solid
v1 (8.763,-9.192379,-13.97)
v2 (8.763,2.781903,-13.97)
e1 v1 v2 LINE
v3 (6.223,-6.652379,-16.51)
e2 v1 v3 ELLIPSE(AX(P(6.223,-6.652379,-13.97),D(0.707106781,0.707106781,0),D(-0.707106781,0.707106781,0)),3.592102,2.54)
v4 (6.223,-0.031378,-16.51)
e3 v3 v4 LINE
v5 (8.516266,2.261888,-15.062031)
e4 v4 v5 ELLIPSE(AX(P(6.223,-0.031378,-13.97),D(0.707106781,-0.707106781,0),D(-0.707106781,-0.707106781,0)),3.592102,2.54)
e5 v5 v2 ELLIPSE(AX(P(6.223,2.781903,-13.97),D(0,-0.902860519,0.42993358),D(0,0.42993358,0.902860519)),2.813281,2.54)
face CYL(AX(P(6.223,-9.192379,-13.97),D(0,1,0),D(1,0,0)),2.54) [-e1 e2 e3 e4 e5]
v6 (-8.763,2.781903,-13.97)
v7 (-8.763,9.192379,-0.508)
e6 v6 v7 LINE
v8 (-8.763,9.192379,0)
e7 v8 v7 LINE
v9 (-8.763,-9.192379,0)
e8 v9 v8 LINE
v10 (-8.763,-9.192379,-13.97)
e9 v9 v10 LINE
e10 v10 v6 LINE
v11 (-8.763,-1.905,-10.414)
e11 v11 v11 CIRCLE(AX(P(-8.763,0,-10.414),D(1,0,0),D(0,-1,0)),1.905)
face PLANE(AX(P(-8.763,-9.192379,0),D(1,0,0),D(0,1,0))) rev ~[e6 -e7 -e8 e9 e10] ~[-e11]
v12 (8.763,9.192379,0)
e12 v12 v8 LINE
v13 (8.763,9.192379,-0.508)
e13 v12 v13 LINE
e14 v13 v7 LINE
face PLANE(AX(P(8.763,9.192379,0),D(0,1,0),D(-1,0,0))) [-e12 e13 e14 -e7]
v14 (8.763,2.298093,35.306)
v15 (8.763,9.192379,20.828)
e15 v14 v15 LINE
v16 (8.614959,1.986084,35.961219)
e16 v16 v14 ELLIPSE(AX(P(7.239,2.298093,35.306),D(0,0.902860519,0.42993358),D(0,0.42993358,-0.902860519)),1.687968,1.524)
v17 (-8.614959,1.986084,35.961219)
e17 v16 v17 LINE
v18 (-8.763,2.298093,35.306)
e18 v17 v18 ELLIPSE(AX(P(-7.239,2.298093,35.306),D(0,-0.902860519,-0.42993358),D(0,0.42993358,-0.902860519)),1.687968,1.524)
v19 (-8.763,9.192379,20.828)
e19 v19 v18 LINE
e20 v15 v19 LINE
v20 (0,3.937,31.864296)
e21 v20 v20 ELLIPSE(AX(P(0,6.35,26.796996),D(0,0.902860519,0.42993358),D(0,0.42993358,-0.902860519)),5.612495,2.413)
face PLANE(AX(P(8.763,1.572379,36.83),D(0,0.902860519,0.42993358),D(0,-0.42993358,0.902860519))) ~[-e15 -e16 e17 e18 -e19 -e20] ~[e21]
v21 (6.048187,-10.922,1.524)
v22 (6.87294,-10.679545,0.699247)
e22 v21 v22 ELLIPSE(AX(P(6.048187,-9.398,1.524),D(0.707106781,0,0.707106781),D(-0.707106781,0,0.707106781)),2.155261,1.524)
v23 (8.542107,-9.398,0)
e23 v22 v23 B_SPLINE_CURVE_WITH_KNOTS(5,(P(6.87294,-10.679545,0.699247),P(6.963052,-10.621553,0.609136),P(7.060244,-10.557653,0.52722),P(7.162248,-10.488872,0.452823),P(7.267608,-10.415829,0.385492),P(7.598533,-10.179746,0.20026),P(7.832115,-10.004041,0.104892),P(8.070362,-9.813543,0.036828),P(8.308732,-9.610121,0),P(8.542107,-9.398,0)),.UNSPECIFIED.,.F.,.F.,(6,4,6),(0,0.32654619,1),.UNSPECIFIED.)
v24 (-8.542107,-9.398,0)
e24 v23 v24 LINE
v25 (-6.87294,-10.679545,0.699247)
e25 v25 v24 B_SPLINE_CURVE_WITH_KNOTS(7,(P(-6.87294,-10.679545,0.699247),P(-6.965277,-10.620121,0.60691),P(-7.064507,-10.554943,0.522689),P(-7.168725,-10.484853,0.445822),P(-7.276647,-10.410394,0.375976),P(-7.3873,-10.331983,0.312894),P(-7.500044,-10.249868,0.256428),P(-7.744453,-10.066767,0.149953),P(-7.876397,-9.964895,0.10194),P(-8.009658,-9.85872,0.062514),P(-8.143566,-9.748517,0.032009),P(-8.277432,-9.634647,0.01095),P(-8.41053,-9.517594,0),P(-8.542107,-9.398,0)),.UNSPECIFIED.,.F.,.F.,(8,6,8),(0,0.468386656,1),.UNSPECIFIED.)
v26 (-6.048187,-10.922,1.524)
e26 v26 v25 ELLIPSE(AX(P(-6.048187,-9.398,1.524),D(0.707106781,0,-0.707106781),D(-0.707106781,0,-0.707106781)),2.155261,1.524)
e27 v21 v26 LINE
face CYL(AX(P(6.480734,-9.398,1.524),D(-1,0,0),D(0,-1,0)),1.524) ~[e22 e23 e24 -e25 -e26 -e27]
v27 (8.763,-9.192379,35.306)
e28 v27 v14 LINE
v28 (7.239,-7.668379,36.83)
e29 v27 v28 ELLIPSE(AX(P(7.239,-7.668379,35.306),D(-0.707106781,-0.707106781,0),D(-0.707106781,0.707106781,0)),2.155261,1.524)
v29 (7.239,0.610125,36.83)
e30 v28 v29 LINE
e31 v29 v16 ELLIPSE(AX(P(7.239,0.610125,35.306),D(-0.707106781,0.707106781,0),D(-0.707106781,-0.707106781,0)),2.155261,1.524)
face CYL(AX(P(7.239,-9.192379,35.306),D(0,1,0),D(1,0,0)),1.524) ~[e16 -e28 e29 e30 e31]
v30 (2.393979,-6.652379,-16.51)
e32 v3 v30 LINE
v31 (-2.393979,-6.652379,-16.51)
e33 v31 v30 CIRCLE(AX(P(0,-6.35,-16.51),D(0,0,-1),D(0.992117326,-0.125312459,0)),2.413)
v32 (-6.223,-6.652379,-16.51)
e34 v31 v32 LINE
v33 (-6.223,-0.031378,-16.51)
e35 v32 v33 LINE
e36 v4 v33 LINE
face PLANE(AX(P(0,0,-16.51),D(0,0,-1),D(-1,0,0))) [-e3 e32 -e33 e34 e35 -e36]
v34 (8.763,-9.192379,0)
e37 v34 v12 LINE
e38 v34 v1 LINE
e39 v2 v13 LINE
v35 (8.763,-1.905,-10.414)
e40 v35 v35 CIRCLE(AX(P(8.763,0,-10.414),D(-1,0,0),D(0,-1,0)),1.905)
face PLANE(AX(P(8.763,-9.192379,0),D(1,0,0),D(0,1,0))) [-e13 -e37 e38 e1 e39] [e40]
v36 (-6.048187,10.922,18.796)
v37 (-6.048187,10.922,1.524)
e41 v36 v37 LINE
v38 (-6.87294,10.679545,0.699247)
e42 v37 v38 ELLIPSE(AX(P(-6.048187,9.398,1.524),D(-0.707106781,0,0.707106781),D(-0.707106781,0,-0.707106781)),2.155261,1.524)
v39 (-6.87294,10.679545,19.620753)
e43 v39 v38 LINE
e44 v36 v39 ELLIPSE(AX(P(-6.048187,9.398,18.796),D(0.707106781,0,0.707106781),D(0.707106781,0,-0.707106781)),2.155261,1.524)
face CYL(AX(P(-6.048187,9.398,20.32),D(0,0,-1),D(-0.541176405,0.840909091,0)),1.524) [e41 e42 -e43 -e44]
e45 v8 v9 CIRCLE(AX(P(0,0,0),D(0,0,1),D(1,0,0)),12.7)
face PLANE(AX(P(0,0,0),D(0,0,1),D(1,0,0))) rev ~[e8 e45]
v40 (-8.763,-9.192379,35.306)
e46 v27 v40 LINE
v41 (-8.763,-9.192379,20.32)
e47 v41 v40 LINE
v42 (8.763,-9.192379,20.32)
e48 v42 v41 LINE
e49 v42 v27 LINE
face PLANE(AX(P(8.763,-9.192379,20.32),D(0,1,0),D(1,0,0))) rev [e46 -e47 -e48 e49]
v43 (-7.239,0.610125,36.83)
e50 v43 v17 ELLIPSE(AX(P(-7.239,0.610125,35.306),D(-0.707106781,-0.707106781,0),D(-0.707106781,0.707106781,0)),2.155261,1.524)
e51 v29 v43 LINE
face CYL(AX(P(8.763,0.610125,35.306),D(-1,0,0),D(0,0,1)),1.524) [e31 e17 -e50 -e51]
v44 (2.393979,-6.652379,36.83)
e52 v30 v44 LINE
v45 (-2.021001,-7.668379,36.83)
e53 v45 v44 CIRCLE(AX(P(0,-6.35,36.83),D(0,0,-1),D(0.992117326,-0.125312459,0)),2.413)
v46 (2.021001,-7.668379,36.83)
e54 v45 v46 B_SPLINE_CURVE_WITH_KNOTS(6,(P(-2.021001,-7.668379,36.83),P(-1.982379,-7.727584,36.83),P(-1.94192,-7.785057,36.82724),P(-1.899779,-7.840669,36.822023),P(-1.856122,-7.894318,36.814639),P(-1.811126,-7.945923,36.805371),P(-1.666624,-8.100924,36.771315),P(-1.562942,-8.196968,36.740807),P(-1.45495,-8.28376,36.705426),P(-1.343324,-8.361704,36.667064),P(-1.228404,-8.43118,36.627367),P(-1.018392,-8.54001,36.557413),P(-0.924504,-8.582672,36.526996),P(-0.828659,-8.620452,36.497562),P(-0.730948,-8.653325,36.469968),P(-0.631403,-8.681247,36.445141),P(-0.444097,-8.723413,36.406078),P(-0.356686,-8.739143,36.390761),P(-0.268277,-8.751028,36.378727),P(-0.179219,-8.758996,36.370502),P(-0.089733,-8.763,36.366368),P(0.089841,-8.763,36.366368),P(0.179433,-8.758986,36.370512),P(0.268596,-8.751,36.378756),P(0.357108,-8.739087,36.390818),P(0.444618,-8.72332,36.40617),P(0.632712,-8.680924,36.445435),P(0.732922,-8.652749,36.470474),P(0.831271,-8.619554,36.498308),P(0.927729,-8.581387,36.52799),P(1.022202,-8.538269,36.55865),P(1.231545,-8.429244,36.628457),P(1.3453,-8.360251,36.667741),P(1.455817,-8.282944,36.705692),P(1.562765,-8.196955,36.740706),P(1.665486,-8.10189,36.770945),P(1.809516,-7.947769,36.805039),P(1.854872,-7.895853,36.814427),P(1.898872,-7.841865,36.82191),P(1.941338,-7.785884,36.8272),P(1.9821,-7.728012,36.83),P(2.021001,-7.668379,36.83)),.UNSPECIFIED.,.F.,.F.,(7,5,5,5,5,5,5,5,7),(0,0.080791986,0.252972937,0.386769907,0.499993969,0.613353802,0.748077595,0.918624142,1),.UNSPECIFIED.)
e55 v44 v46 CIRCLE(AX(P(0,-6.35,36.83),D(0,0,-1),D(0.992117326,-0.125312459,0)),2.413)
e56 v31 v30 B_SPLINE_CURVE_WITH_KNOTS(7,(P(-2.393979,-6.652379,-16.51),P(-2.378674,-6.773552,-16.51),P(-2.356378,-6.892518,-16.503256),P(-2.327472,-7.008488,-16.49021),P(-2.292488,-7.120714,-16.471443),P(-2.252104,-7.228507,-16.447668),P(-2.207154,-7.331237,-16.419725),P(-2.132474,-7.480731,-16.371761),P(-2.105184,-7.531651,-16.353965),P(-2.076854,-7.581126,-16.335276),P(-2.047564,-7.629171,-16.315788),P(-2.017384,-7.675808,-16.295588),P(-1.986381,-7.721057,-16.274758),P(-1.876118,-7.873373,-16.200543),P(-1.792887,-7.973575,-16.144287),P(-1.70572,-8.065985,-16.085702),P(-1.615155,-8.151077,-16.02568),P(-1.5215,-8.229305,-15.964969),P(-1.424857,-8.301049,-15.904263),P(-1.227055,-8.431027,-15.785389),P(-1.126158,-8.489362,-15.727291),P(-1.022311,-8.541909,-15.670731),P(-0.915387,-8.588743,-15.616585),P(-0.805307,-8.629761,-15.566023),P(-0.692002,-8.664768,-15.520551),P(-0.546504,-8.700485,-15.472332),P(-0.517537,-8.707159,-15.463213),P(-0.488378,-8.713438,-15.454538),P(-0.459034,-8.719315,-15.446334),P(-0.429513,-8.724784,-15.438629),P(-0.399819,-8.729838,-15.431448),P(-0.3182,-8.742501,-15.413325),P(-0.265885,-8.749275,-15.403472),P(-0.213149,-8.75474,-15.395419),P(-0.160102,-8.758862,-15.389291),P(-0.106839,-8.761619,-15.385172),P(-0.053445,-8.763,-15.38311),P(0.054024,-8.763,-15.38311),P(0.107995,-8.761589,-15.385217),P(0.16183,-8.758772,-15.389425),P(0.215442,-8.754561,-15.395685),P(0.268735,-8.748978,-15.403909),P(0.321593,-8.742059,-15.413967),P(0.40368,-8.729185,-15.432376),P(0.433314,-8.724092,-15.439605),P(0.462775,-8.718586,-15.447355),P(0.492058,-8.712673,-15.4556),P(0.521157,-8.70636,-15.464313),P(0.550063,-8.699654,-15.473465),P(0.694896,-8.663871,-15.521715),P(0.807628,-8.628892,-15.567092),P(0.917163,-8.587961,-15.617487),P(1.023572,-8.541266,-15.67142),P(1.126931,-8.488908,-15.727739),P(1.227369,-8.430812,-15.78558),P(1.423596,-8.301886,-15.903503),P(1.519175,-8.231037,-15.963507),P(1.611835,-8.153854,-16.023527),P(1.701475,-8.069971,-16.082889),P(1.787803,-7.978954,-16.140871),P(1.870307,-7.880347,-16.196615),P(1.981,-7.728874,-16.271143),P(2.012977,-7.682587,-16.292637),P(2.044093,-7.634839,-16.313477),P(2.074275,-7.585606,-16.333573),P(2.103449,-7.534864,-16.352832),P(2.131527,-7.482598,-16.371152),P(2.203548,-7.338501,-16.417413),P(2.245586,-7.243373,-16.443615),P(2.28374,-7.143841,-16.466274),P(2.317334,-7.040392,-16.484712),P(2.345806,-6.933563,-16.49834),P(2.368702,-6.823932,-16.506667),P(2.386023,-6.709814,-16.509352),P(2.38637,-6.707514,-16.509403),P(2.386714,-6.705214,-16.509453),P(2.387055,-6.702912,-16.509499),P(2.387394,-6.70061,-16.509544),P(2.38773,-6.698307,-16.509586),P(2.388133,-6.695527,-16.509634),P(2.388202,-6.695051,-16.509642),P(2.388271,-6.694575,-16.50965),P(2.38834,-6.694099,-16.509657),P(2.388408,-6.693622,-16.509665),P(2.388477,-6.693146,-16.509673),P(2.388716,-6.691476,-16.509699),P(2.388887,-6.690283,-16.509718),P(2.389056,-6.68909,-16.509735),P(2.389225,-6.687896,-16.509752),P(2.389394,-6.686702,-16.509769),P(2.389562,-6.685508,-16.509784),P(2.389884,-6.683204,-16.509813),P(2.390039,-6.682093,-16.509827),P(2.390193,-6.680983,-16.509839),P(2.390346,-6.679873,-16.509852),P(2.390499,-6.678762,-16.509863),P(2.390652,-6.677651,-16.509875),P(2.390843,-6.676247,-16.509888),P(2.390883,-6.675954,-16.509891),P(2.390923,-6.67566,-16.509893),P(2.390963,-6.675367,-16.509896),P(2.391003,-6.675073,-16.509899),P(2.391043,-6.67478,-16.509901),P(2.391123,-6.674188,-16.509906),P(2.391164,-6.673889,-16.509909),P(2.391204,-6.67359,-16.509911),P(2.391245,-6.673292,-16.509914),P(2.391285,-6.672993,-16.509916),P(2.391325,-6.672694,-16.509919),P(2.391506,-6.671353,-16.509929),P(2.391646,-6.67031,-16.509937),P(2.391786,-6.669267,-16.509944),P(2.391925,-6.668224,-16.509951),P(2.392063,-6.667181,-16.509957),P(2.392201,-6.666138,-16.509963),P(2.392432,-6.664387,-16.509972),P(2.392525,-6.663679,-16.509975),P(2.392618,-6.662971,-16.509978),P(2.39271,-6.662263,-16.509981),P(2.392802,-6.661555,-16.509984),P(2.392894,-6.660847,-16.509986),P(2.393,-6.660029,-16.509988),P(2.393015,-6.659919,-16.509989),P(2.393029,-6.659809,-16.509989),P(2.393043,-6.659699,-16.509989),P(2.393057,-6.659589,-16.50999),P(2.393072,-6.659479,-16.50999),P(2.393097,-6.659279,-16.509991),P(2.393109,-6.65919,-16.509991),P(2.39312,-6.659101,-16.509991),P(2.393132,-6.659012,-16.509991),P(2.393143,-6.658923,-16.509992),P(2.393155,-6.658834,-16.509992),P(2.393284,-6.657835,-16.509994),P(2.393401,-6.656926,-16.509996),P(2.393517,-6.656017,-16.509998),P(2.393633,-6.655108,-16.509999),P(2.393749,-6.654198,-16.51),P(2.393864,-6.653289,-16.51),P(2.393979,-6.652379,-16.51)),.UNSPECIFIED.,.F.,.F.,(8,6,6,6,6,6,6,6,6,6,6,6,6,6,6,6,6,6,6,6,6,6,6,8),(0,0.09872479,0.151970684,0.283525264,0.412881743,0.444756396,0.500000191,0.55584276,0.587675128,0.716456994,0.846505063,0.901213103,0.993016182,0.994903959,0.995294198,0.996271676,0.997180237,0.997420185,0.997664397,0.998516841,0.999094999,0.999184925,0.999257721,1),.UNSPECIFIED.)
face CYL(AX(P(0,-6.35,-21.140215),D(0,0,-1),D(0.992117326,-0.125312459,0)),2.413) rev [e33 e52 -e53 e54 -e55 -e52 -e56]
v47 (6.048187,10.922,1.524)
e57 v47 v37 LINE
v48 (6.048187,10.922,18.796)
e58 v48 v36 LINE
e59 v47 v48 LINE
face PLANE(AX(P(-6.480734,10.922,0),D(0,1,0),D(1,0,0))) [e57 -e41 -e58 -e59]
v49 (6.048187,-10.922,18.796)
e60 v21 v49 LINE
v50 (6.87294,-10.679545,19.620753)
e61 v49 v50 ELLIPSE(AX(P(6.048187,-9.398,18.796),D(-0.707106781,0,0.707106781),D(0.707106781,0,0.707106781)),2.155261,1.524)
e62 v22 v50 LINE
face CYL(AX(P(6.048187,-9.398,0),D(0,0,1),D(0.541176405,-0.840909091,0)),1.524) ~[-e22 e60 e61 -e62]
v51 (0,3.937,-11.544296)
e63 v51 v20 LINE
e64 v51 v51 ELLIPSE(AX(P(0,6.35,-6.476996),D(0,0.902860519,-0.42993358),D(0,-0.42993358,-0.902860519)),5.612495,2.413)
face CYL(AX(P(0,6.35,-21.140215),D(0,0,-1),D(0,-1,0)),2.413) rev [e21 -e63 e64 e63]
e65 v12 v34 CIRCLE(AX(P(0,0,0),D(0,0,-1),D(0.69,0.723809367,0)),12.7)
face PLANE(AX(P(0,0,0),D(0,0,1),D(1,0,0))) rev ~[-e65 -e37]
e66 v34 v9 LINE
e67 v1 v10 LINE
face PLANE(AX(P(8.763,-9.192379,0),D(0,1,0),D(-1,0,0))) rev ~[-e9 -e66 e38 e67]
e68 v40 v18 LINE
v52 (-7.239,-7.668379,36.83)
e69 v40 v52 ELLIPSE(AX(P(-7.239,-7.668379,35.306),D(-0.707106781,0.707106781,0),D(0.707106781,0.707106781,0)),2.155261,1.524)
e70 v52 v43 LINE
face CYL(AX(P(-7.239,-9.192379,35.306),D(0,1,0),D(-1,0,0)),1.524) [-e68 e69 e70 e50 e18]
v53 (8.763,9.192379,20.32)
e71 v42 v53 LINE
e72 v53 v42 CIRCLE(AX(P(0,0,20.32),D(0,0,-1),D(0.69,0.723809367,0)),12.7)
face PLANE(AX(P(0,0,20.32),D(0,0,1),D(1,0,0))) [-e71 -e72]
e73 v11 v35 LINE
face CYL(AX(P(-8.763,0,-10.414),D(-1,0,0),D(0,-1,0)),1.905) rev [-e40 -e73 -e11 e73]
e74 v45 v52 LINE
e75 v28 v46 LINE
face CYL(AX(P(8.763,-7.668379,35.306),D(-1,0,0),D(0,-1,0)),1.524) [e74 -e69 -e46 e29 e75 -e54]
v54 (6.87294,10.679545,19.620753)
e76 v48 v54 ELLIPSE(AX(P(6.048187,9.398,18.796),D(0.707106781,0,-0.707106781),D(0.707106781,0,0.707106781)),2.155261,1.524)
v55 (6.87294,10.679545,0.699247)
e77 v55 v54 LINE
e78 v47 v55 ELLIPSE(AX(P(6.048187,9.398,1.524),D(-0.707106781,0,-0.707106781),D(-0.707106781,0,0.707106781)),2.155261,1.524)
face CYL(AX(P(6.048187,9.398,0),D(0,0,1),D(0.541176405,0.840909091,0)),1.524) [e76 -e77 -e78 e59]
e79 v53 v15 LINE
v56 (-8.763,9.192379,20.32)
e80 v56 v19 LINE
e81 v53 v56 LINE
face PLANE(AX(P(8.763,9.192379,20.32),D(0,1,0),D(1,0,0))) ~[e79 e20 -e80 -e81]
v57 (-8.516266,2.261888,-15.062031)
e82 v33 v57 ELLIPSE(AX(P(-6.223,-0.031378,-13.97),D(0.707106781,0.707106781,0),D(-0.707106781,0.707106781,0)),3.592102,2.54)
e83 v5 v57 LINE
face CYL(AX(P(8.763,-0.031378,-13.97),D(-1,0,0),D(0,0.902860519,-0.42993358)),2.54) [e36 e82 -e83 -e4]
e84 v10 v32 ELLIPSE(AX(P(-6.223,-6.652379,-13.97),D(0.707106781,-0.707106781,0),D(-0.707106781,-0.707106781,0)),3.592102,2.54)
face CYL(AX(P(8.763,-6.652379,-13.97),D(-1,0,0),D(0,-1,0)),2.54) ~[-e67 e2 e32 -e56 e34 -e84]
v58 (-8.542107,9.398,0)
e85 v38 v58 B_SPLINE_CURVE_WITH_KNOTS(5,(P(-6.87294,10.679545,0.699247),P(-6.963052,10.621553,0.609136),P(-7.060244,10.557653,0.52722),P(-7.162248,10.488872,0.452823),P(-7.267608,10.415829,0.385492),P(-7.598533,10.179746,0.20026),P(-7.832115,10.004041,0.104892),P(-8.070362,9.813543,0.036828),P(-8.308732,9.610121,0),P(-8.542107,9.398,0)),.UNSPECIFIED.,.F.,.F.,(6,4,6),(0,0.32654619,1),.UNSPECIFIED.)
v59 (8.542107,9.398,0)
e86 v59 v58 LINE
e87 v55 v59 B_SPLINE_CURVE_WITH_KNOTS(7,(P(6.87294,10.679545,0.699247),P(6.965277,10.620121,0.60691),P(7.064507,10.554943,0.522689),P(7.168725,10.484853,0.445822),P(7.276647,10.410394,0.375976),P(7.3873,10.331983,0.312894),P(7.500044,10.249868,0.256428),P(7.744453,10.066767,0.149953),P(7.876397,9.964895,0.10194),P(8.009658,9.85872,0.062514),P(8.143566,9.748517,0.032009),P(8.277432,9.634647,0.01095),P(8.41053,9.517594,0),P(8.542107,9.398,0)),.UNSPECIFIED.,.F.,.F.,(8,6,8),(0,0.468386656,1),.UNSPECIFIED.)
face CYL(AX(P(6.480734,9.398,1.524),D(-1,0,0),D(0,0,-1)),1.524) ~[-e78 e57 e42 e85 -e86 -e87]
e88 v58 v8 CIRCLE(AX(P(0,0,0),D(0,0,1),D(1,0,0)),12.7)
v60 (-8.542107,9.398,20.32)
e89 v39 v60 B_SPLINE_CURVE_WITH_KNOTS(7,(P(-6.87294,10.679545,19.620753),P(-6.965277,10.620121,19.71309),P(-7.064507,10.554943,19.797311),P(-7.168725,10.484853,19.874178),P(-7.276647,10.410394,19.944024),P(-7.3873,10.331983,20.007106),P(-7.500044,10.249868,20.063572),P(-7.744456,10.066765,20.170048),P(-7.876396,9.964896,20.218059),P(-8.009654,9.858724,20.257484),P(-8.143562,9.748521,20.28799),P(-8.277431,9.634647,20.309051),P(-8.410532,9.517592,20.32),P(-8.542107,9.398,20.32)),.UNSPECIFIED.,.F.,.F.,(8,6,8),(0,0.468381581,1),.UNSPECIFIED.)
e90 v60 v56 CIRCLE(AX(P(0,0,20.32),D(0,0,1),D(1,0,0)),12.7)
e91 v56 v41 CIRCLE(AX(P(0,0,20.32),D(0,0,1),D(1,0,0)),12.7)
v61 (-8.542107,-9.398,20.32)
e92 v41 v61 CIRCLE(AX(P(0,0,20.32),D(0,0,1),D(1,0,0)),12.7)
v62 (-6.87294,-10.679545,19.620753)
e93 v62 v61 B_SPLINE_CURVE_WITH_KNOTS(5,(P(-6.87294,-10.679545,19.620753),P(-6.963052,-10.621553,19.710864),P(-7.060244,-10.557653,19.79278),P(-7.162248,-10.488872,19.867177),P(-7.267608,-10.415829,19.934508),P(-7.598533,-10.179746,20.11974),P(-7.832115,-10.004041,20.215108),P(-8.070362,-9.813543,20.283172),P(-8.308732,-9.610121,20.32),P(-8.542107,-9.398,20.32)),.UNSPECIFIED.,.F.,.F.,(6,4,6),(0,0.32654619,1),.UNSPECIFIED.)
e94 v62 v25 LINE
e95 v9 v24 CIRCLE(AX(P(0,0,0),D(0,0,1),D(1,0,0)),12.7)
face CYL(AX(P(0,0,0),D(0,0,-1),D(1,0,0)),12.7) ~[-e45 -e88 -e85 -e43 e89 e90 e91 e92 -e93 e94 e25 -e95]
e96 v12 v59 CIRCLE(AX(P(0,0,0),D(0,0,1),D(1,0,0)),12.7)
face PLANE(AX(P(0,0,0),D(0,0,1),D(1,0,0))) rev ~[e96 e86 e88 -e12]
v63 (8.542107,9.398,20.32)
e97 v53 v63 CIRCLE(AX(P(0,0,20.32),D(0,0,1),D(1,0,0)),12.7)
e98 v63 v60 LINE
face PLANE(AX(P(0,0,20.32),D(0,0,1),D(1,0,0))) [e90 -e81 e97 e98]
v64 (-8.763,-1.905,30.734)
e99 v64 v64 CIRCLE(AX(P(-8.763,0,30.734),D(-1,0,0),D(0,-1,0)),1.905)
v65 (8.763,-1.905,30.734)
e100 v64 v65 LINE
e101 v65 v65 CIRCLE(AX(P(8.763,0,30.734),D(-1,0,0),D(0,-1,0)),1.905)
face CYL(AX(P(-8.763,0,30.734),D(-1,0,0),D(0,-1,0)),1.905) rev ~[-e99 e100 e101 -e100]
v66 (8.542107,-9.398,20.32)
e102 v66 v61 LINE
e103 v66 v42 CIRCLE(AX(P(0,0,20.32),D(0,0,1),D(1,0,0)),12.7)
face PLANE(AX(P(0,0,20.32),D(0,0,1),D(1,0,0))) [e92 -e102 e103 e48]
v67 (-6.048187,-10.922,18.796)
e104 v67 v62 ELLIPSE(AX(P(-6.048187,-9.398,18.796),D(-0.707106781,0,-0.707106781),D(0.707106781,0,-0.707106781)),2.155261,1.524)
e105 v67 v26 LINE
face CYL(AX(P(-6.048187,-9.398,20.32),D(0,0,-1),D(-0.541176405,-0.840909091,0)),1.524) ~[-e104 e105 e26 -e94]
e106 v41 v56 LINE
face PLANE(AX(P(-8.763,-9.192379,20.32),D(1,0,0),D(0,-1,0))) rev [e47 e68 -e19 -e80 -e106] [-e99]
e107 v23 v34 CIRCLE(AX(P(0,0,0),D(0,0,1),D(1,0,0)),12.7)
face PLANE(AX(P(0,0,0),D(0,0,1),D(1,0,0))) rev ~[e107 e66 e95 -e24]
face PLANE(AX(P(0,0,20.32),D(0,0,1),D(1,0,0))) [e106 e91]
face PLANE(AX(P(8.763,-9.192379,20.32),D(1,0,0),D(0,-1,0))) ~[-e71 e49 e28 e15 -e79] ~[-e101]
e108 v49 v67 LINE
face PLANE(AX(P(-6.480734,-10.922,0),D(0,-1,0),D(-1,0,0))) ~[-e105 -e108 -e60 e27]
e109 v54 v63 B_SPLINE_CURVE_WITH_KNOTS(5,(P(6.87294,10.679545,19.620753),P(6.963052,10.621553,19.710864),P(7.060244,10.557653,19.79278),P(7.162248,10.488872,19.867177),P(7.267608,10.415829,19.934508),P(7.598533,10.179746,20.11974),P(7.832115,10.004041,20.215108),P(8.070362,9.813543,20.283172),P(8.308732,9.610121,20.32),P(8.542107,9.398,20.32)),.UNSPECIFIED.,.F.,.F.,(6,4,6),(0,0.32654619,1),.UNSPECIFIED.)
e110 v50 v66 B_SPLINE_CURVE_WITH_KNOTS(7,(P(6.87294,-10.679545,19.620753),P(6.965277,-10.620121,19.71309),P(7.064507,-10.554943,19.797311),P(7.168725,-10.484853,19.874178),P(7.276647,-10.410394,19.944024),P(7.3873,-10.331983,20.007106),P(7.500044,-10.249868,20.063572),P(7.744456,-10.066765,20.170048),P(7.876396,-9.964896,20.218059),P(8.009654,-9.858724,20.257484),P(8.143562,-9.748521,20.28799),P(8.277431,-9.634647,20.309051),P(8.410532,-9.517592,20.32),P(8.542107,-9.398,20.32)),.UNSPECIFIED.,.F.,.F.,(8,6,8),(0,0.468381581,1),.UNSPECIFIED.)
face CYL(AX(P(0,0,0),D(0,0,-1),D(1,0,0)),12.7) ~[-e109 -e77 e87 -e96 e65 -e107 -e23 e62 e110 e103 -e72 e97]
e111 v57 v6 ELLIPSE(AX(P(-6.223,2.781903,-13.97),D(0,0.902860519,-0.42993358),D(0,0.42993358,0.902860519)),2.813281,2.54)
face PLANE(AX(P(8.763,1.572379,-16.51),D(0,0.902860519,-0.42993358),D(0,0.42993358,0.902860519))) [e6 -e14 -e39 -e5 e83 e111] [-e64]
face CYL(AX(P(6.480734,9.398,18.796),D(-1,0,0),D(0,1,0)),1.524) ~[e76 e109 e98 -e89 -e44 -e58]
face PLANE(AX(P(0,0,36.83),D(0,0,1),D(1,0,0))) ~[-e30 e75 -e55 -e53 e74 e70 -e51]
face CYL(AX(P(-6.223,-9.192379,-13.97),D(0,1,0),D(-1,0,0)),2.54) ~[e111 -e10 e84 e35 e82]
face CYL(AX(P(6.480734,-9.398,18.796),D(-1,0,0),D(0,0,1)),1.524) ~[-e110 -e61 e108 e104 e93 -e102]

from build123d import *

# Parameters (mm, degrees)
SKETCH1_R               = 12.7
FINGERBODY_DEPTH        = 20.32
SKETCH2_W               = 17.526
SKETCH2_H               = 18.384757926
BOSS_EXTRUDE2_DEPTH     = 16.51
SKETCH4_R               = 1.905
CUT_EXTRUDE2_DEPTH      = 45.479200409
CUT_EXTRUDE3_DEPTH      = 45.479200409
FILLET2_R               = 2.54
CUT_EXTRUDE5_DEPTH      = 41.975955144
FILLET3_R               = 1.524
FILLET4_R               = 1.524
FILLET6_R               = 1.524
CUT_EXTRUDE6_DEPTH      = 41.460214887
CUT_EXTRUDE6_DEPTH_BACK = 41.460214887
SKETCH11_R              = 2.413


with BuildPart() as part:
    # Sketch1 → FingerBody (new body)
    with BuildSketch(Plane.XY):
        Circle(SKETCH1_R)
    extrude(amount=FINGERBODY_DEPTH)

    # Sketch2 → Boss-Extrude2 (add)
    with BuildSketch(Plane(origin=(0, 0, 0), x_dir=(-1, 0, 0), z_dir=(0, 0, -1))):
        Rectangle(SKETCH2_W, SKETCH2_H)
    boss_extrude2 = extrude(amount=BOSS_EXTRUDE2_DEPTH)

    # Mirror1: Boss-Extrude2 across plane
    add(boss_extrude2.mirror(Plane(origin=(0, 0, 10.16), x_dir=(1, 0, 0), z_dir=(0, 0, -1))))

    # Sketch4 → Cut-Extrude2 (cut, through all)
    with BuildSketch(Plane.ZY.offset(8.763)):
        with Locations(Location((30.734, 0, 0), (0, 0, 270))):
            Circle(SKETCH4_R)
    cut_extrude2 = extrude(amount=-CUT_EXTRUDE2_DEPTH, mode=Mode.SUBTRACT)

    # Mirror2: Cut-Extrude2 across plane
    add(cut_extrude2.mirror(Plane(origin=(0, 0, 10.16), x_dir=(1, 0, 0), z_dir=(0, 0, -1))), mode=Mode.SUBTRACT)

    # Sketch5 → Cut-Extrude3 (cut, through all)
    with BuildSketch(Plane(origin=(8.763, 0, 0), x_dir=(0, 0, -1), z_dir=(1, 0, 0))):
        Polygon((16.51, 1.572378963), (0.508, 9.192378963), (16.51, 9.192378963), align=None)
    cut_extrude3 = extrude(amount=-CUT_EXTRUDE3_DEPTH, mode=Mode.SUBTRACT)

    # Fillet2
    fillet2_edges = [part.edges().sort_by_distance(p)[0] for p in [
        (0, -9.192378963, -16.51),
        (8.763, -3.81, -16.51),
        (0, 1.572378963, -16.51),
        (-8.763, -3.81, -16.51),
    ]]
    fillet(fillet2_edges, radius=FILLET2_R)

    # Mirror6: Cut-Extrude3 across plane
    add(cut_extrude3.mirror(Plane(origin=(0, 0, 10.16), x_dir=(1, 0, 0), z_dir=(0, 0, -1))), mode=Mode.SUBTRACT)

    # Sketch8 → Cut-Extrude5 (cut, symmetric)
    with BuildSketch(Plane(origin=(0, 0, 0), x_dir=(-1, 0, 0), z_dir=(0, 0, -1))):
        with BuildLine():
            Line((6.480734218, 10.922), (-6.480734218, 10.922))
            ThreePointArc((-6.480734218, 10.922), (0, 12.7), (6.480734218, 10.922))
        make_face()
    cut_extrude5 = extrude(amount=CUT_EXTRUDE5_DEPTH, both=True, mode=Mode.SUBTRACT)

    # Mirror7: Cut-Extrude5 across plane
    add(cut_extrude5.mirror(Plane(origin=(0, 0, 0), x_dir=(0, 0, 1), z_dir=(0, -1, 0))), mode=Mode.SUBTRACT)

    # Fillet3
    fillet3_edges = [part.edges().sort_by_distance(p)[0] for p in [
        (6.480734218, 10.922, 10.16),
        (-6.480734218, 10.922, 10.16),
        (0, 10.922, 20.32),
        (0, 10.922, 0),
    ]]
    fillet(fillet3_edges, radius=FILLET3_R)

    # Fillet4
    fillet4_edges = [part.edges().sort_by_distance(p)[0] for p in [
        (6.480734218, -10.922, 10.16),
        (-6.480734218, -10.922, 10.16),
        (0, -10.922, 20.32),
        (0, -10.922, 0),
    ]]
    fillet(fillet4_edges, radius=FILLET4_R)

    # Fillet6
    fillet6_edges = [part.edges().sort_by_distance(p)[0] for p in [
        (-8.763, -3.81, 36.83),
        (0, -9.192378963, 36.83),
        (8.763, -3.81, 36.83),
        (0, 1.572378963, 36.83),
    ]]
    fillet(fillet6_edges, radius=FILLET6_R)

    # Sketch11 → Cut-Extrude6 (cut, two sides: drawn at the far end of the back side and taken through both)
    with BuildSketch(Plane.XY.offset(20.32).offset(-CUT_EXTRUDE6_DEPTH_BACK)):
        with Locations(Location((0, 6.35, 0), (0, 0, 270))):
            Circle(SKETCH11_R)
        with Locations(Location((0, -6.35, 0), (0, 0, 352.801199766))):
            Circle(SKETCH11_R)
    extrude(amount=CUT_EXTRUDE6_DEPTH + CUT_EXTRUDE6_DEPTH_BACK, mode=Mode.SUBTRACT)


solid = part.part
